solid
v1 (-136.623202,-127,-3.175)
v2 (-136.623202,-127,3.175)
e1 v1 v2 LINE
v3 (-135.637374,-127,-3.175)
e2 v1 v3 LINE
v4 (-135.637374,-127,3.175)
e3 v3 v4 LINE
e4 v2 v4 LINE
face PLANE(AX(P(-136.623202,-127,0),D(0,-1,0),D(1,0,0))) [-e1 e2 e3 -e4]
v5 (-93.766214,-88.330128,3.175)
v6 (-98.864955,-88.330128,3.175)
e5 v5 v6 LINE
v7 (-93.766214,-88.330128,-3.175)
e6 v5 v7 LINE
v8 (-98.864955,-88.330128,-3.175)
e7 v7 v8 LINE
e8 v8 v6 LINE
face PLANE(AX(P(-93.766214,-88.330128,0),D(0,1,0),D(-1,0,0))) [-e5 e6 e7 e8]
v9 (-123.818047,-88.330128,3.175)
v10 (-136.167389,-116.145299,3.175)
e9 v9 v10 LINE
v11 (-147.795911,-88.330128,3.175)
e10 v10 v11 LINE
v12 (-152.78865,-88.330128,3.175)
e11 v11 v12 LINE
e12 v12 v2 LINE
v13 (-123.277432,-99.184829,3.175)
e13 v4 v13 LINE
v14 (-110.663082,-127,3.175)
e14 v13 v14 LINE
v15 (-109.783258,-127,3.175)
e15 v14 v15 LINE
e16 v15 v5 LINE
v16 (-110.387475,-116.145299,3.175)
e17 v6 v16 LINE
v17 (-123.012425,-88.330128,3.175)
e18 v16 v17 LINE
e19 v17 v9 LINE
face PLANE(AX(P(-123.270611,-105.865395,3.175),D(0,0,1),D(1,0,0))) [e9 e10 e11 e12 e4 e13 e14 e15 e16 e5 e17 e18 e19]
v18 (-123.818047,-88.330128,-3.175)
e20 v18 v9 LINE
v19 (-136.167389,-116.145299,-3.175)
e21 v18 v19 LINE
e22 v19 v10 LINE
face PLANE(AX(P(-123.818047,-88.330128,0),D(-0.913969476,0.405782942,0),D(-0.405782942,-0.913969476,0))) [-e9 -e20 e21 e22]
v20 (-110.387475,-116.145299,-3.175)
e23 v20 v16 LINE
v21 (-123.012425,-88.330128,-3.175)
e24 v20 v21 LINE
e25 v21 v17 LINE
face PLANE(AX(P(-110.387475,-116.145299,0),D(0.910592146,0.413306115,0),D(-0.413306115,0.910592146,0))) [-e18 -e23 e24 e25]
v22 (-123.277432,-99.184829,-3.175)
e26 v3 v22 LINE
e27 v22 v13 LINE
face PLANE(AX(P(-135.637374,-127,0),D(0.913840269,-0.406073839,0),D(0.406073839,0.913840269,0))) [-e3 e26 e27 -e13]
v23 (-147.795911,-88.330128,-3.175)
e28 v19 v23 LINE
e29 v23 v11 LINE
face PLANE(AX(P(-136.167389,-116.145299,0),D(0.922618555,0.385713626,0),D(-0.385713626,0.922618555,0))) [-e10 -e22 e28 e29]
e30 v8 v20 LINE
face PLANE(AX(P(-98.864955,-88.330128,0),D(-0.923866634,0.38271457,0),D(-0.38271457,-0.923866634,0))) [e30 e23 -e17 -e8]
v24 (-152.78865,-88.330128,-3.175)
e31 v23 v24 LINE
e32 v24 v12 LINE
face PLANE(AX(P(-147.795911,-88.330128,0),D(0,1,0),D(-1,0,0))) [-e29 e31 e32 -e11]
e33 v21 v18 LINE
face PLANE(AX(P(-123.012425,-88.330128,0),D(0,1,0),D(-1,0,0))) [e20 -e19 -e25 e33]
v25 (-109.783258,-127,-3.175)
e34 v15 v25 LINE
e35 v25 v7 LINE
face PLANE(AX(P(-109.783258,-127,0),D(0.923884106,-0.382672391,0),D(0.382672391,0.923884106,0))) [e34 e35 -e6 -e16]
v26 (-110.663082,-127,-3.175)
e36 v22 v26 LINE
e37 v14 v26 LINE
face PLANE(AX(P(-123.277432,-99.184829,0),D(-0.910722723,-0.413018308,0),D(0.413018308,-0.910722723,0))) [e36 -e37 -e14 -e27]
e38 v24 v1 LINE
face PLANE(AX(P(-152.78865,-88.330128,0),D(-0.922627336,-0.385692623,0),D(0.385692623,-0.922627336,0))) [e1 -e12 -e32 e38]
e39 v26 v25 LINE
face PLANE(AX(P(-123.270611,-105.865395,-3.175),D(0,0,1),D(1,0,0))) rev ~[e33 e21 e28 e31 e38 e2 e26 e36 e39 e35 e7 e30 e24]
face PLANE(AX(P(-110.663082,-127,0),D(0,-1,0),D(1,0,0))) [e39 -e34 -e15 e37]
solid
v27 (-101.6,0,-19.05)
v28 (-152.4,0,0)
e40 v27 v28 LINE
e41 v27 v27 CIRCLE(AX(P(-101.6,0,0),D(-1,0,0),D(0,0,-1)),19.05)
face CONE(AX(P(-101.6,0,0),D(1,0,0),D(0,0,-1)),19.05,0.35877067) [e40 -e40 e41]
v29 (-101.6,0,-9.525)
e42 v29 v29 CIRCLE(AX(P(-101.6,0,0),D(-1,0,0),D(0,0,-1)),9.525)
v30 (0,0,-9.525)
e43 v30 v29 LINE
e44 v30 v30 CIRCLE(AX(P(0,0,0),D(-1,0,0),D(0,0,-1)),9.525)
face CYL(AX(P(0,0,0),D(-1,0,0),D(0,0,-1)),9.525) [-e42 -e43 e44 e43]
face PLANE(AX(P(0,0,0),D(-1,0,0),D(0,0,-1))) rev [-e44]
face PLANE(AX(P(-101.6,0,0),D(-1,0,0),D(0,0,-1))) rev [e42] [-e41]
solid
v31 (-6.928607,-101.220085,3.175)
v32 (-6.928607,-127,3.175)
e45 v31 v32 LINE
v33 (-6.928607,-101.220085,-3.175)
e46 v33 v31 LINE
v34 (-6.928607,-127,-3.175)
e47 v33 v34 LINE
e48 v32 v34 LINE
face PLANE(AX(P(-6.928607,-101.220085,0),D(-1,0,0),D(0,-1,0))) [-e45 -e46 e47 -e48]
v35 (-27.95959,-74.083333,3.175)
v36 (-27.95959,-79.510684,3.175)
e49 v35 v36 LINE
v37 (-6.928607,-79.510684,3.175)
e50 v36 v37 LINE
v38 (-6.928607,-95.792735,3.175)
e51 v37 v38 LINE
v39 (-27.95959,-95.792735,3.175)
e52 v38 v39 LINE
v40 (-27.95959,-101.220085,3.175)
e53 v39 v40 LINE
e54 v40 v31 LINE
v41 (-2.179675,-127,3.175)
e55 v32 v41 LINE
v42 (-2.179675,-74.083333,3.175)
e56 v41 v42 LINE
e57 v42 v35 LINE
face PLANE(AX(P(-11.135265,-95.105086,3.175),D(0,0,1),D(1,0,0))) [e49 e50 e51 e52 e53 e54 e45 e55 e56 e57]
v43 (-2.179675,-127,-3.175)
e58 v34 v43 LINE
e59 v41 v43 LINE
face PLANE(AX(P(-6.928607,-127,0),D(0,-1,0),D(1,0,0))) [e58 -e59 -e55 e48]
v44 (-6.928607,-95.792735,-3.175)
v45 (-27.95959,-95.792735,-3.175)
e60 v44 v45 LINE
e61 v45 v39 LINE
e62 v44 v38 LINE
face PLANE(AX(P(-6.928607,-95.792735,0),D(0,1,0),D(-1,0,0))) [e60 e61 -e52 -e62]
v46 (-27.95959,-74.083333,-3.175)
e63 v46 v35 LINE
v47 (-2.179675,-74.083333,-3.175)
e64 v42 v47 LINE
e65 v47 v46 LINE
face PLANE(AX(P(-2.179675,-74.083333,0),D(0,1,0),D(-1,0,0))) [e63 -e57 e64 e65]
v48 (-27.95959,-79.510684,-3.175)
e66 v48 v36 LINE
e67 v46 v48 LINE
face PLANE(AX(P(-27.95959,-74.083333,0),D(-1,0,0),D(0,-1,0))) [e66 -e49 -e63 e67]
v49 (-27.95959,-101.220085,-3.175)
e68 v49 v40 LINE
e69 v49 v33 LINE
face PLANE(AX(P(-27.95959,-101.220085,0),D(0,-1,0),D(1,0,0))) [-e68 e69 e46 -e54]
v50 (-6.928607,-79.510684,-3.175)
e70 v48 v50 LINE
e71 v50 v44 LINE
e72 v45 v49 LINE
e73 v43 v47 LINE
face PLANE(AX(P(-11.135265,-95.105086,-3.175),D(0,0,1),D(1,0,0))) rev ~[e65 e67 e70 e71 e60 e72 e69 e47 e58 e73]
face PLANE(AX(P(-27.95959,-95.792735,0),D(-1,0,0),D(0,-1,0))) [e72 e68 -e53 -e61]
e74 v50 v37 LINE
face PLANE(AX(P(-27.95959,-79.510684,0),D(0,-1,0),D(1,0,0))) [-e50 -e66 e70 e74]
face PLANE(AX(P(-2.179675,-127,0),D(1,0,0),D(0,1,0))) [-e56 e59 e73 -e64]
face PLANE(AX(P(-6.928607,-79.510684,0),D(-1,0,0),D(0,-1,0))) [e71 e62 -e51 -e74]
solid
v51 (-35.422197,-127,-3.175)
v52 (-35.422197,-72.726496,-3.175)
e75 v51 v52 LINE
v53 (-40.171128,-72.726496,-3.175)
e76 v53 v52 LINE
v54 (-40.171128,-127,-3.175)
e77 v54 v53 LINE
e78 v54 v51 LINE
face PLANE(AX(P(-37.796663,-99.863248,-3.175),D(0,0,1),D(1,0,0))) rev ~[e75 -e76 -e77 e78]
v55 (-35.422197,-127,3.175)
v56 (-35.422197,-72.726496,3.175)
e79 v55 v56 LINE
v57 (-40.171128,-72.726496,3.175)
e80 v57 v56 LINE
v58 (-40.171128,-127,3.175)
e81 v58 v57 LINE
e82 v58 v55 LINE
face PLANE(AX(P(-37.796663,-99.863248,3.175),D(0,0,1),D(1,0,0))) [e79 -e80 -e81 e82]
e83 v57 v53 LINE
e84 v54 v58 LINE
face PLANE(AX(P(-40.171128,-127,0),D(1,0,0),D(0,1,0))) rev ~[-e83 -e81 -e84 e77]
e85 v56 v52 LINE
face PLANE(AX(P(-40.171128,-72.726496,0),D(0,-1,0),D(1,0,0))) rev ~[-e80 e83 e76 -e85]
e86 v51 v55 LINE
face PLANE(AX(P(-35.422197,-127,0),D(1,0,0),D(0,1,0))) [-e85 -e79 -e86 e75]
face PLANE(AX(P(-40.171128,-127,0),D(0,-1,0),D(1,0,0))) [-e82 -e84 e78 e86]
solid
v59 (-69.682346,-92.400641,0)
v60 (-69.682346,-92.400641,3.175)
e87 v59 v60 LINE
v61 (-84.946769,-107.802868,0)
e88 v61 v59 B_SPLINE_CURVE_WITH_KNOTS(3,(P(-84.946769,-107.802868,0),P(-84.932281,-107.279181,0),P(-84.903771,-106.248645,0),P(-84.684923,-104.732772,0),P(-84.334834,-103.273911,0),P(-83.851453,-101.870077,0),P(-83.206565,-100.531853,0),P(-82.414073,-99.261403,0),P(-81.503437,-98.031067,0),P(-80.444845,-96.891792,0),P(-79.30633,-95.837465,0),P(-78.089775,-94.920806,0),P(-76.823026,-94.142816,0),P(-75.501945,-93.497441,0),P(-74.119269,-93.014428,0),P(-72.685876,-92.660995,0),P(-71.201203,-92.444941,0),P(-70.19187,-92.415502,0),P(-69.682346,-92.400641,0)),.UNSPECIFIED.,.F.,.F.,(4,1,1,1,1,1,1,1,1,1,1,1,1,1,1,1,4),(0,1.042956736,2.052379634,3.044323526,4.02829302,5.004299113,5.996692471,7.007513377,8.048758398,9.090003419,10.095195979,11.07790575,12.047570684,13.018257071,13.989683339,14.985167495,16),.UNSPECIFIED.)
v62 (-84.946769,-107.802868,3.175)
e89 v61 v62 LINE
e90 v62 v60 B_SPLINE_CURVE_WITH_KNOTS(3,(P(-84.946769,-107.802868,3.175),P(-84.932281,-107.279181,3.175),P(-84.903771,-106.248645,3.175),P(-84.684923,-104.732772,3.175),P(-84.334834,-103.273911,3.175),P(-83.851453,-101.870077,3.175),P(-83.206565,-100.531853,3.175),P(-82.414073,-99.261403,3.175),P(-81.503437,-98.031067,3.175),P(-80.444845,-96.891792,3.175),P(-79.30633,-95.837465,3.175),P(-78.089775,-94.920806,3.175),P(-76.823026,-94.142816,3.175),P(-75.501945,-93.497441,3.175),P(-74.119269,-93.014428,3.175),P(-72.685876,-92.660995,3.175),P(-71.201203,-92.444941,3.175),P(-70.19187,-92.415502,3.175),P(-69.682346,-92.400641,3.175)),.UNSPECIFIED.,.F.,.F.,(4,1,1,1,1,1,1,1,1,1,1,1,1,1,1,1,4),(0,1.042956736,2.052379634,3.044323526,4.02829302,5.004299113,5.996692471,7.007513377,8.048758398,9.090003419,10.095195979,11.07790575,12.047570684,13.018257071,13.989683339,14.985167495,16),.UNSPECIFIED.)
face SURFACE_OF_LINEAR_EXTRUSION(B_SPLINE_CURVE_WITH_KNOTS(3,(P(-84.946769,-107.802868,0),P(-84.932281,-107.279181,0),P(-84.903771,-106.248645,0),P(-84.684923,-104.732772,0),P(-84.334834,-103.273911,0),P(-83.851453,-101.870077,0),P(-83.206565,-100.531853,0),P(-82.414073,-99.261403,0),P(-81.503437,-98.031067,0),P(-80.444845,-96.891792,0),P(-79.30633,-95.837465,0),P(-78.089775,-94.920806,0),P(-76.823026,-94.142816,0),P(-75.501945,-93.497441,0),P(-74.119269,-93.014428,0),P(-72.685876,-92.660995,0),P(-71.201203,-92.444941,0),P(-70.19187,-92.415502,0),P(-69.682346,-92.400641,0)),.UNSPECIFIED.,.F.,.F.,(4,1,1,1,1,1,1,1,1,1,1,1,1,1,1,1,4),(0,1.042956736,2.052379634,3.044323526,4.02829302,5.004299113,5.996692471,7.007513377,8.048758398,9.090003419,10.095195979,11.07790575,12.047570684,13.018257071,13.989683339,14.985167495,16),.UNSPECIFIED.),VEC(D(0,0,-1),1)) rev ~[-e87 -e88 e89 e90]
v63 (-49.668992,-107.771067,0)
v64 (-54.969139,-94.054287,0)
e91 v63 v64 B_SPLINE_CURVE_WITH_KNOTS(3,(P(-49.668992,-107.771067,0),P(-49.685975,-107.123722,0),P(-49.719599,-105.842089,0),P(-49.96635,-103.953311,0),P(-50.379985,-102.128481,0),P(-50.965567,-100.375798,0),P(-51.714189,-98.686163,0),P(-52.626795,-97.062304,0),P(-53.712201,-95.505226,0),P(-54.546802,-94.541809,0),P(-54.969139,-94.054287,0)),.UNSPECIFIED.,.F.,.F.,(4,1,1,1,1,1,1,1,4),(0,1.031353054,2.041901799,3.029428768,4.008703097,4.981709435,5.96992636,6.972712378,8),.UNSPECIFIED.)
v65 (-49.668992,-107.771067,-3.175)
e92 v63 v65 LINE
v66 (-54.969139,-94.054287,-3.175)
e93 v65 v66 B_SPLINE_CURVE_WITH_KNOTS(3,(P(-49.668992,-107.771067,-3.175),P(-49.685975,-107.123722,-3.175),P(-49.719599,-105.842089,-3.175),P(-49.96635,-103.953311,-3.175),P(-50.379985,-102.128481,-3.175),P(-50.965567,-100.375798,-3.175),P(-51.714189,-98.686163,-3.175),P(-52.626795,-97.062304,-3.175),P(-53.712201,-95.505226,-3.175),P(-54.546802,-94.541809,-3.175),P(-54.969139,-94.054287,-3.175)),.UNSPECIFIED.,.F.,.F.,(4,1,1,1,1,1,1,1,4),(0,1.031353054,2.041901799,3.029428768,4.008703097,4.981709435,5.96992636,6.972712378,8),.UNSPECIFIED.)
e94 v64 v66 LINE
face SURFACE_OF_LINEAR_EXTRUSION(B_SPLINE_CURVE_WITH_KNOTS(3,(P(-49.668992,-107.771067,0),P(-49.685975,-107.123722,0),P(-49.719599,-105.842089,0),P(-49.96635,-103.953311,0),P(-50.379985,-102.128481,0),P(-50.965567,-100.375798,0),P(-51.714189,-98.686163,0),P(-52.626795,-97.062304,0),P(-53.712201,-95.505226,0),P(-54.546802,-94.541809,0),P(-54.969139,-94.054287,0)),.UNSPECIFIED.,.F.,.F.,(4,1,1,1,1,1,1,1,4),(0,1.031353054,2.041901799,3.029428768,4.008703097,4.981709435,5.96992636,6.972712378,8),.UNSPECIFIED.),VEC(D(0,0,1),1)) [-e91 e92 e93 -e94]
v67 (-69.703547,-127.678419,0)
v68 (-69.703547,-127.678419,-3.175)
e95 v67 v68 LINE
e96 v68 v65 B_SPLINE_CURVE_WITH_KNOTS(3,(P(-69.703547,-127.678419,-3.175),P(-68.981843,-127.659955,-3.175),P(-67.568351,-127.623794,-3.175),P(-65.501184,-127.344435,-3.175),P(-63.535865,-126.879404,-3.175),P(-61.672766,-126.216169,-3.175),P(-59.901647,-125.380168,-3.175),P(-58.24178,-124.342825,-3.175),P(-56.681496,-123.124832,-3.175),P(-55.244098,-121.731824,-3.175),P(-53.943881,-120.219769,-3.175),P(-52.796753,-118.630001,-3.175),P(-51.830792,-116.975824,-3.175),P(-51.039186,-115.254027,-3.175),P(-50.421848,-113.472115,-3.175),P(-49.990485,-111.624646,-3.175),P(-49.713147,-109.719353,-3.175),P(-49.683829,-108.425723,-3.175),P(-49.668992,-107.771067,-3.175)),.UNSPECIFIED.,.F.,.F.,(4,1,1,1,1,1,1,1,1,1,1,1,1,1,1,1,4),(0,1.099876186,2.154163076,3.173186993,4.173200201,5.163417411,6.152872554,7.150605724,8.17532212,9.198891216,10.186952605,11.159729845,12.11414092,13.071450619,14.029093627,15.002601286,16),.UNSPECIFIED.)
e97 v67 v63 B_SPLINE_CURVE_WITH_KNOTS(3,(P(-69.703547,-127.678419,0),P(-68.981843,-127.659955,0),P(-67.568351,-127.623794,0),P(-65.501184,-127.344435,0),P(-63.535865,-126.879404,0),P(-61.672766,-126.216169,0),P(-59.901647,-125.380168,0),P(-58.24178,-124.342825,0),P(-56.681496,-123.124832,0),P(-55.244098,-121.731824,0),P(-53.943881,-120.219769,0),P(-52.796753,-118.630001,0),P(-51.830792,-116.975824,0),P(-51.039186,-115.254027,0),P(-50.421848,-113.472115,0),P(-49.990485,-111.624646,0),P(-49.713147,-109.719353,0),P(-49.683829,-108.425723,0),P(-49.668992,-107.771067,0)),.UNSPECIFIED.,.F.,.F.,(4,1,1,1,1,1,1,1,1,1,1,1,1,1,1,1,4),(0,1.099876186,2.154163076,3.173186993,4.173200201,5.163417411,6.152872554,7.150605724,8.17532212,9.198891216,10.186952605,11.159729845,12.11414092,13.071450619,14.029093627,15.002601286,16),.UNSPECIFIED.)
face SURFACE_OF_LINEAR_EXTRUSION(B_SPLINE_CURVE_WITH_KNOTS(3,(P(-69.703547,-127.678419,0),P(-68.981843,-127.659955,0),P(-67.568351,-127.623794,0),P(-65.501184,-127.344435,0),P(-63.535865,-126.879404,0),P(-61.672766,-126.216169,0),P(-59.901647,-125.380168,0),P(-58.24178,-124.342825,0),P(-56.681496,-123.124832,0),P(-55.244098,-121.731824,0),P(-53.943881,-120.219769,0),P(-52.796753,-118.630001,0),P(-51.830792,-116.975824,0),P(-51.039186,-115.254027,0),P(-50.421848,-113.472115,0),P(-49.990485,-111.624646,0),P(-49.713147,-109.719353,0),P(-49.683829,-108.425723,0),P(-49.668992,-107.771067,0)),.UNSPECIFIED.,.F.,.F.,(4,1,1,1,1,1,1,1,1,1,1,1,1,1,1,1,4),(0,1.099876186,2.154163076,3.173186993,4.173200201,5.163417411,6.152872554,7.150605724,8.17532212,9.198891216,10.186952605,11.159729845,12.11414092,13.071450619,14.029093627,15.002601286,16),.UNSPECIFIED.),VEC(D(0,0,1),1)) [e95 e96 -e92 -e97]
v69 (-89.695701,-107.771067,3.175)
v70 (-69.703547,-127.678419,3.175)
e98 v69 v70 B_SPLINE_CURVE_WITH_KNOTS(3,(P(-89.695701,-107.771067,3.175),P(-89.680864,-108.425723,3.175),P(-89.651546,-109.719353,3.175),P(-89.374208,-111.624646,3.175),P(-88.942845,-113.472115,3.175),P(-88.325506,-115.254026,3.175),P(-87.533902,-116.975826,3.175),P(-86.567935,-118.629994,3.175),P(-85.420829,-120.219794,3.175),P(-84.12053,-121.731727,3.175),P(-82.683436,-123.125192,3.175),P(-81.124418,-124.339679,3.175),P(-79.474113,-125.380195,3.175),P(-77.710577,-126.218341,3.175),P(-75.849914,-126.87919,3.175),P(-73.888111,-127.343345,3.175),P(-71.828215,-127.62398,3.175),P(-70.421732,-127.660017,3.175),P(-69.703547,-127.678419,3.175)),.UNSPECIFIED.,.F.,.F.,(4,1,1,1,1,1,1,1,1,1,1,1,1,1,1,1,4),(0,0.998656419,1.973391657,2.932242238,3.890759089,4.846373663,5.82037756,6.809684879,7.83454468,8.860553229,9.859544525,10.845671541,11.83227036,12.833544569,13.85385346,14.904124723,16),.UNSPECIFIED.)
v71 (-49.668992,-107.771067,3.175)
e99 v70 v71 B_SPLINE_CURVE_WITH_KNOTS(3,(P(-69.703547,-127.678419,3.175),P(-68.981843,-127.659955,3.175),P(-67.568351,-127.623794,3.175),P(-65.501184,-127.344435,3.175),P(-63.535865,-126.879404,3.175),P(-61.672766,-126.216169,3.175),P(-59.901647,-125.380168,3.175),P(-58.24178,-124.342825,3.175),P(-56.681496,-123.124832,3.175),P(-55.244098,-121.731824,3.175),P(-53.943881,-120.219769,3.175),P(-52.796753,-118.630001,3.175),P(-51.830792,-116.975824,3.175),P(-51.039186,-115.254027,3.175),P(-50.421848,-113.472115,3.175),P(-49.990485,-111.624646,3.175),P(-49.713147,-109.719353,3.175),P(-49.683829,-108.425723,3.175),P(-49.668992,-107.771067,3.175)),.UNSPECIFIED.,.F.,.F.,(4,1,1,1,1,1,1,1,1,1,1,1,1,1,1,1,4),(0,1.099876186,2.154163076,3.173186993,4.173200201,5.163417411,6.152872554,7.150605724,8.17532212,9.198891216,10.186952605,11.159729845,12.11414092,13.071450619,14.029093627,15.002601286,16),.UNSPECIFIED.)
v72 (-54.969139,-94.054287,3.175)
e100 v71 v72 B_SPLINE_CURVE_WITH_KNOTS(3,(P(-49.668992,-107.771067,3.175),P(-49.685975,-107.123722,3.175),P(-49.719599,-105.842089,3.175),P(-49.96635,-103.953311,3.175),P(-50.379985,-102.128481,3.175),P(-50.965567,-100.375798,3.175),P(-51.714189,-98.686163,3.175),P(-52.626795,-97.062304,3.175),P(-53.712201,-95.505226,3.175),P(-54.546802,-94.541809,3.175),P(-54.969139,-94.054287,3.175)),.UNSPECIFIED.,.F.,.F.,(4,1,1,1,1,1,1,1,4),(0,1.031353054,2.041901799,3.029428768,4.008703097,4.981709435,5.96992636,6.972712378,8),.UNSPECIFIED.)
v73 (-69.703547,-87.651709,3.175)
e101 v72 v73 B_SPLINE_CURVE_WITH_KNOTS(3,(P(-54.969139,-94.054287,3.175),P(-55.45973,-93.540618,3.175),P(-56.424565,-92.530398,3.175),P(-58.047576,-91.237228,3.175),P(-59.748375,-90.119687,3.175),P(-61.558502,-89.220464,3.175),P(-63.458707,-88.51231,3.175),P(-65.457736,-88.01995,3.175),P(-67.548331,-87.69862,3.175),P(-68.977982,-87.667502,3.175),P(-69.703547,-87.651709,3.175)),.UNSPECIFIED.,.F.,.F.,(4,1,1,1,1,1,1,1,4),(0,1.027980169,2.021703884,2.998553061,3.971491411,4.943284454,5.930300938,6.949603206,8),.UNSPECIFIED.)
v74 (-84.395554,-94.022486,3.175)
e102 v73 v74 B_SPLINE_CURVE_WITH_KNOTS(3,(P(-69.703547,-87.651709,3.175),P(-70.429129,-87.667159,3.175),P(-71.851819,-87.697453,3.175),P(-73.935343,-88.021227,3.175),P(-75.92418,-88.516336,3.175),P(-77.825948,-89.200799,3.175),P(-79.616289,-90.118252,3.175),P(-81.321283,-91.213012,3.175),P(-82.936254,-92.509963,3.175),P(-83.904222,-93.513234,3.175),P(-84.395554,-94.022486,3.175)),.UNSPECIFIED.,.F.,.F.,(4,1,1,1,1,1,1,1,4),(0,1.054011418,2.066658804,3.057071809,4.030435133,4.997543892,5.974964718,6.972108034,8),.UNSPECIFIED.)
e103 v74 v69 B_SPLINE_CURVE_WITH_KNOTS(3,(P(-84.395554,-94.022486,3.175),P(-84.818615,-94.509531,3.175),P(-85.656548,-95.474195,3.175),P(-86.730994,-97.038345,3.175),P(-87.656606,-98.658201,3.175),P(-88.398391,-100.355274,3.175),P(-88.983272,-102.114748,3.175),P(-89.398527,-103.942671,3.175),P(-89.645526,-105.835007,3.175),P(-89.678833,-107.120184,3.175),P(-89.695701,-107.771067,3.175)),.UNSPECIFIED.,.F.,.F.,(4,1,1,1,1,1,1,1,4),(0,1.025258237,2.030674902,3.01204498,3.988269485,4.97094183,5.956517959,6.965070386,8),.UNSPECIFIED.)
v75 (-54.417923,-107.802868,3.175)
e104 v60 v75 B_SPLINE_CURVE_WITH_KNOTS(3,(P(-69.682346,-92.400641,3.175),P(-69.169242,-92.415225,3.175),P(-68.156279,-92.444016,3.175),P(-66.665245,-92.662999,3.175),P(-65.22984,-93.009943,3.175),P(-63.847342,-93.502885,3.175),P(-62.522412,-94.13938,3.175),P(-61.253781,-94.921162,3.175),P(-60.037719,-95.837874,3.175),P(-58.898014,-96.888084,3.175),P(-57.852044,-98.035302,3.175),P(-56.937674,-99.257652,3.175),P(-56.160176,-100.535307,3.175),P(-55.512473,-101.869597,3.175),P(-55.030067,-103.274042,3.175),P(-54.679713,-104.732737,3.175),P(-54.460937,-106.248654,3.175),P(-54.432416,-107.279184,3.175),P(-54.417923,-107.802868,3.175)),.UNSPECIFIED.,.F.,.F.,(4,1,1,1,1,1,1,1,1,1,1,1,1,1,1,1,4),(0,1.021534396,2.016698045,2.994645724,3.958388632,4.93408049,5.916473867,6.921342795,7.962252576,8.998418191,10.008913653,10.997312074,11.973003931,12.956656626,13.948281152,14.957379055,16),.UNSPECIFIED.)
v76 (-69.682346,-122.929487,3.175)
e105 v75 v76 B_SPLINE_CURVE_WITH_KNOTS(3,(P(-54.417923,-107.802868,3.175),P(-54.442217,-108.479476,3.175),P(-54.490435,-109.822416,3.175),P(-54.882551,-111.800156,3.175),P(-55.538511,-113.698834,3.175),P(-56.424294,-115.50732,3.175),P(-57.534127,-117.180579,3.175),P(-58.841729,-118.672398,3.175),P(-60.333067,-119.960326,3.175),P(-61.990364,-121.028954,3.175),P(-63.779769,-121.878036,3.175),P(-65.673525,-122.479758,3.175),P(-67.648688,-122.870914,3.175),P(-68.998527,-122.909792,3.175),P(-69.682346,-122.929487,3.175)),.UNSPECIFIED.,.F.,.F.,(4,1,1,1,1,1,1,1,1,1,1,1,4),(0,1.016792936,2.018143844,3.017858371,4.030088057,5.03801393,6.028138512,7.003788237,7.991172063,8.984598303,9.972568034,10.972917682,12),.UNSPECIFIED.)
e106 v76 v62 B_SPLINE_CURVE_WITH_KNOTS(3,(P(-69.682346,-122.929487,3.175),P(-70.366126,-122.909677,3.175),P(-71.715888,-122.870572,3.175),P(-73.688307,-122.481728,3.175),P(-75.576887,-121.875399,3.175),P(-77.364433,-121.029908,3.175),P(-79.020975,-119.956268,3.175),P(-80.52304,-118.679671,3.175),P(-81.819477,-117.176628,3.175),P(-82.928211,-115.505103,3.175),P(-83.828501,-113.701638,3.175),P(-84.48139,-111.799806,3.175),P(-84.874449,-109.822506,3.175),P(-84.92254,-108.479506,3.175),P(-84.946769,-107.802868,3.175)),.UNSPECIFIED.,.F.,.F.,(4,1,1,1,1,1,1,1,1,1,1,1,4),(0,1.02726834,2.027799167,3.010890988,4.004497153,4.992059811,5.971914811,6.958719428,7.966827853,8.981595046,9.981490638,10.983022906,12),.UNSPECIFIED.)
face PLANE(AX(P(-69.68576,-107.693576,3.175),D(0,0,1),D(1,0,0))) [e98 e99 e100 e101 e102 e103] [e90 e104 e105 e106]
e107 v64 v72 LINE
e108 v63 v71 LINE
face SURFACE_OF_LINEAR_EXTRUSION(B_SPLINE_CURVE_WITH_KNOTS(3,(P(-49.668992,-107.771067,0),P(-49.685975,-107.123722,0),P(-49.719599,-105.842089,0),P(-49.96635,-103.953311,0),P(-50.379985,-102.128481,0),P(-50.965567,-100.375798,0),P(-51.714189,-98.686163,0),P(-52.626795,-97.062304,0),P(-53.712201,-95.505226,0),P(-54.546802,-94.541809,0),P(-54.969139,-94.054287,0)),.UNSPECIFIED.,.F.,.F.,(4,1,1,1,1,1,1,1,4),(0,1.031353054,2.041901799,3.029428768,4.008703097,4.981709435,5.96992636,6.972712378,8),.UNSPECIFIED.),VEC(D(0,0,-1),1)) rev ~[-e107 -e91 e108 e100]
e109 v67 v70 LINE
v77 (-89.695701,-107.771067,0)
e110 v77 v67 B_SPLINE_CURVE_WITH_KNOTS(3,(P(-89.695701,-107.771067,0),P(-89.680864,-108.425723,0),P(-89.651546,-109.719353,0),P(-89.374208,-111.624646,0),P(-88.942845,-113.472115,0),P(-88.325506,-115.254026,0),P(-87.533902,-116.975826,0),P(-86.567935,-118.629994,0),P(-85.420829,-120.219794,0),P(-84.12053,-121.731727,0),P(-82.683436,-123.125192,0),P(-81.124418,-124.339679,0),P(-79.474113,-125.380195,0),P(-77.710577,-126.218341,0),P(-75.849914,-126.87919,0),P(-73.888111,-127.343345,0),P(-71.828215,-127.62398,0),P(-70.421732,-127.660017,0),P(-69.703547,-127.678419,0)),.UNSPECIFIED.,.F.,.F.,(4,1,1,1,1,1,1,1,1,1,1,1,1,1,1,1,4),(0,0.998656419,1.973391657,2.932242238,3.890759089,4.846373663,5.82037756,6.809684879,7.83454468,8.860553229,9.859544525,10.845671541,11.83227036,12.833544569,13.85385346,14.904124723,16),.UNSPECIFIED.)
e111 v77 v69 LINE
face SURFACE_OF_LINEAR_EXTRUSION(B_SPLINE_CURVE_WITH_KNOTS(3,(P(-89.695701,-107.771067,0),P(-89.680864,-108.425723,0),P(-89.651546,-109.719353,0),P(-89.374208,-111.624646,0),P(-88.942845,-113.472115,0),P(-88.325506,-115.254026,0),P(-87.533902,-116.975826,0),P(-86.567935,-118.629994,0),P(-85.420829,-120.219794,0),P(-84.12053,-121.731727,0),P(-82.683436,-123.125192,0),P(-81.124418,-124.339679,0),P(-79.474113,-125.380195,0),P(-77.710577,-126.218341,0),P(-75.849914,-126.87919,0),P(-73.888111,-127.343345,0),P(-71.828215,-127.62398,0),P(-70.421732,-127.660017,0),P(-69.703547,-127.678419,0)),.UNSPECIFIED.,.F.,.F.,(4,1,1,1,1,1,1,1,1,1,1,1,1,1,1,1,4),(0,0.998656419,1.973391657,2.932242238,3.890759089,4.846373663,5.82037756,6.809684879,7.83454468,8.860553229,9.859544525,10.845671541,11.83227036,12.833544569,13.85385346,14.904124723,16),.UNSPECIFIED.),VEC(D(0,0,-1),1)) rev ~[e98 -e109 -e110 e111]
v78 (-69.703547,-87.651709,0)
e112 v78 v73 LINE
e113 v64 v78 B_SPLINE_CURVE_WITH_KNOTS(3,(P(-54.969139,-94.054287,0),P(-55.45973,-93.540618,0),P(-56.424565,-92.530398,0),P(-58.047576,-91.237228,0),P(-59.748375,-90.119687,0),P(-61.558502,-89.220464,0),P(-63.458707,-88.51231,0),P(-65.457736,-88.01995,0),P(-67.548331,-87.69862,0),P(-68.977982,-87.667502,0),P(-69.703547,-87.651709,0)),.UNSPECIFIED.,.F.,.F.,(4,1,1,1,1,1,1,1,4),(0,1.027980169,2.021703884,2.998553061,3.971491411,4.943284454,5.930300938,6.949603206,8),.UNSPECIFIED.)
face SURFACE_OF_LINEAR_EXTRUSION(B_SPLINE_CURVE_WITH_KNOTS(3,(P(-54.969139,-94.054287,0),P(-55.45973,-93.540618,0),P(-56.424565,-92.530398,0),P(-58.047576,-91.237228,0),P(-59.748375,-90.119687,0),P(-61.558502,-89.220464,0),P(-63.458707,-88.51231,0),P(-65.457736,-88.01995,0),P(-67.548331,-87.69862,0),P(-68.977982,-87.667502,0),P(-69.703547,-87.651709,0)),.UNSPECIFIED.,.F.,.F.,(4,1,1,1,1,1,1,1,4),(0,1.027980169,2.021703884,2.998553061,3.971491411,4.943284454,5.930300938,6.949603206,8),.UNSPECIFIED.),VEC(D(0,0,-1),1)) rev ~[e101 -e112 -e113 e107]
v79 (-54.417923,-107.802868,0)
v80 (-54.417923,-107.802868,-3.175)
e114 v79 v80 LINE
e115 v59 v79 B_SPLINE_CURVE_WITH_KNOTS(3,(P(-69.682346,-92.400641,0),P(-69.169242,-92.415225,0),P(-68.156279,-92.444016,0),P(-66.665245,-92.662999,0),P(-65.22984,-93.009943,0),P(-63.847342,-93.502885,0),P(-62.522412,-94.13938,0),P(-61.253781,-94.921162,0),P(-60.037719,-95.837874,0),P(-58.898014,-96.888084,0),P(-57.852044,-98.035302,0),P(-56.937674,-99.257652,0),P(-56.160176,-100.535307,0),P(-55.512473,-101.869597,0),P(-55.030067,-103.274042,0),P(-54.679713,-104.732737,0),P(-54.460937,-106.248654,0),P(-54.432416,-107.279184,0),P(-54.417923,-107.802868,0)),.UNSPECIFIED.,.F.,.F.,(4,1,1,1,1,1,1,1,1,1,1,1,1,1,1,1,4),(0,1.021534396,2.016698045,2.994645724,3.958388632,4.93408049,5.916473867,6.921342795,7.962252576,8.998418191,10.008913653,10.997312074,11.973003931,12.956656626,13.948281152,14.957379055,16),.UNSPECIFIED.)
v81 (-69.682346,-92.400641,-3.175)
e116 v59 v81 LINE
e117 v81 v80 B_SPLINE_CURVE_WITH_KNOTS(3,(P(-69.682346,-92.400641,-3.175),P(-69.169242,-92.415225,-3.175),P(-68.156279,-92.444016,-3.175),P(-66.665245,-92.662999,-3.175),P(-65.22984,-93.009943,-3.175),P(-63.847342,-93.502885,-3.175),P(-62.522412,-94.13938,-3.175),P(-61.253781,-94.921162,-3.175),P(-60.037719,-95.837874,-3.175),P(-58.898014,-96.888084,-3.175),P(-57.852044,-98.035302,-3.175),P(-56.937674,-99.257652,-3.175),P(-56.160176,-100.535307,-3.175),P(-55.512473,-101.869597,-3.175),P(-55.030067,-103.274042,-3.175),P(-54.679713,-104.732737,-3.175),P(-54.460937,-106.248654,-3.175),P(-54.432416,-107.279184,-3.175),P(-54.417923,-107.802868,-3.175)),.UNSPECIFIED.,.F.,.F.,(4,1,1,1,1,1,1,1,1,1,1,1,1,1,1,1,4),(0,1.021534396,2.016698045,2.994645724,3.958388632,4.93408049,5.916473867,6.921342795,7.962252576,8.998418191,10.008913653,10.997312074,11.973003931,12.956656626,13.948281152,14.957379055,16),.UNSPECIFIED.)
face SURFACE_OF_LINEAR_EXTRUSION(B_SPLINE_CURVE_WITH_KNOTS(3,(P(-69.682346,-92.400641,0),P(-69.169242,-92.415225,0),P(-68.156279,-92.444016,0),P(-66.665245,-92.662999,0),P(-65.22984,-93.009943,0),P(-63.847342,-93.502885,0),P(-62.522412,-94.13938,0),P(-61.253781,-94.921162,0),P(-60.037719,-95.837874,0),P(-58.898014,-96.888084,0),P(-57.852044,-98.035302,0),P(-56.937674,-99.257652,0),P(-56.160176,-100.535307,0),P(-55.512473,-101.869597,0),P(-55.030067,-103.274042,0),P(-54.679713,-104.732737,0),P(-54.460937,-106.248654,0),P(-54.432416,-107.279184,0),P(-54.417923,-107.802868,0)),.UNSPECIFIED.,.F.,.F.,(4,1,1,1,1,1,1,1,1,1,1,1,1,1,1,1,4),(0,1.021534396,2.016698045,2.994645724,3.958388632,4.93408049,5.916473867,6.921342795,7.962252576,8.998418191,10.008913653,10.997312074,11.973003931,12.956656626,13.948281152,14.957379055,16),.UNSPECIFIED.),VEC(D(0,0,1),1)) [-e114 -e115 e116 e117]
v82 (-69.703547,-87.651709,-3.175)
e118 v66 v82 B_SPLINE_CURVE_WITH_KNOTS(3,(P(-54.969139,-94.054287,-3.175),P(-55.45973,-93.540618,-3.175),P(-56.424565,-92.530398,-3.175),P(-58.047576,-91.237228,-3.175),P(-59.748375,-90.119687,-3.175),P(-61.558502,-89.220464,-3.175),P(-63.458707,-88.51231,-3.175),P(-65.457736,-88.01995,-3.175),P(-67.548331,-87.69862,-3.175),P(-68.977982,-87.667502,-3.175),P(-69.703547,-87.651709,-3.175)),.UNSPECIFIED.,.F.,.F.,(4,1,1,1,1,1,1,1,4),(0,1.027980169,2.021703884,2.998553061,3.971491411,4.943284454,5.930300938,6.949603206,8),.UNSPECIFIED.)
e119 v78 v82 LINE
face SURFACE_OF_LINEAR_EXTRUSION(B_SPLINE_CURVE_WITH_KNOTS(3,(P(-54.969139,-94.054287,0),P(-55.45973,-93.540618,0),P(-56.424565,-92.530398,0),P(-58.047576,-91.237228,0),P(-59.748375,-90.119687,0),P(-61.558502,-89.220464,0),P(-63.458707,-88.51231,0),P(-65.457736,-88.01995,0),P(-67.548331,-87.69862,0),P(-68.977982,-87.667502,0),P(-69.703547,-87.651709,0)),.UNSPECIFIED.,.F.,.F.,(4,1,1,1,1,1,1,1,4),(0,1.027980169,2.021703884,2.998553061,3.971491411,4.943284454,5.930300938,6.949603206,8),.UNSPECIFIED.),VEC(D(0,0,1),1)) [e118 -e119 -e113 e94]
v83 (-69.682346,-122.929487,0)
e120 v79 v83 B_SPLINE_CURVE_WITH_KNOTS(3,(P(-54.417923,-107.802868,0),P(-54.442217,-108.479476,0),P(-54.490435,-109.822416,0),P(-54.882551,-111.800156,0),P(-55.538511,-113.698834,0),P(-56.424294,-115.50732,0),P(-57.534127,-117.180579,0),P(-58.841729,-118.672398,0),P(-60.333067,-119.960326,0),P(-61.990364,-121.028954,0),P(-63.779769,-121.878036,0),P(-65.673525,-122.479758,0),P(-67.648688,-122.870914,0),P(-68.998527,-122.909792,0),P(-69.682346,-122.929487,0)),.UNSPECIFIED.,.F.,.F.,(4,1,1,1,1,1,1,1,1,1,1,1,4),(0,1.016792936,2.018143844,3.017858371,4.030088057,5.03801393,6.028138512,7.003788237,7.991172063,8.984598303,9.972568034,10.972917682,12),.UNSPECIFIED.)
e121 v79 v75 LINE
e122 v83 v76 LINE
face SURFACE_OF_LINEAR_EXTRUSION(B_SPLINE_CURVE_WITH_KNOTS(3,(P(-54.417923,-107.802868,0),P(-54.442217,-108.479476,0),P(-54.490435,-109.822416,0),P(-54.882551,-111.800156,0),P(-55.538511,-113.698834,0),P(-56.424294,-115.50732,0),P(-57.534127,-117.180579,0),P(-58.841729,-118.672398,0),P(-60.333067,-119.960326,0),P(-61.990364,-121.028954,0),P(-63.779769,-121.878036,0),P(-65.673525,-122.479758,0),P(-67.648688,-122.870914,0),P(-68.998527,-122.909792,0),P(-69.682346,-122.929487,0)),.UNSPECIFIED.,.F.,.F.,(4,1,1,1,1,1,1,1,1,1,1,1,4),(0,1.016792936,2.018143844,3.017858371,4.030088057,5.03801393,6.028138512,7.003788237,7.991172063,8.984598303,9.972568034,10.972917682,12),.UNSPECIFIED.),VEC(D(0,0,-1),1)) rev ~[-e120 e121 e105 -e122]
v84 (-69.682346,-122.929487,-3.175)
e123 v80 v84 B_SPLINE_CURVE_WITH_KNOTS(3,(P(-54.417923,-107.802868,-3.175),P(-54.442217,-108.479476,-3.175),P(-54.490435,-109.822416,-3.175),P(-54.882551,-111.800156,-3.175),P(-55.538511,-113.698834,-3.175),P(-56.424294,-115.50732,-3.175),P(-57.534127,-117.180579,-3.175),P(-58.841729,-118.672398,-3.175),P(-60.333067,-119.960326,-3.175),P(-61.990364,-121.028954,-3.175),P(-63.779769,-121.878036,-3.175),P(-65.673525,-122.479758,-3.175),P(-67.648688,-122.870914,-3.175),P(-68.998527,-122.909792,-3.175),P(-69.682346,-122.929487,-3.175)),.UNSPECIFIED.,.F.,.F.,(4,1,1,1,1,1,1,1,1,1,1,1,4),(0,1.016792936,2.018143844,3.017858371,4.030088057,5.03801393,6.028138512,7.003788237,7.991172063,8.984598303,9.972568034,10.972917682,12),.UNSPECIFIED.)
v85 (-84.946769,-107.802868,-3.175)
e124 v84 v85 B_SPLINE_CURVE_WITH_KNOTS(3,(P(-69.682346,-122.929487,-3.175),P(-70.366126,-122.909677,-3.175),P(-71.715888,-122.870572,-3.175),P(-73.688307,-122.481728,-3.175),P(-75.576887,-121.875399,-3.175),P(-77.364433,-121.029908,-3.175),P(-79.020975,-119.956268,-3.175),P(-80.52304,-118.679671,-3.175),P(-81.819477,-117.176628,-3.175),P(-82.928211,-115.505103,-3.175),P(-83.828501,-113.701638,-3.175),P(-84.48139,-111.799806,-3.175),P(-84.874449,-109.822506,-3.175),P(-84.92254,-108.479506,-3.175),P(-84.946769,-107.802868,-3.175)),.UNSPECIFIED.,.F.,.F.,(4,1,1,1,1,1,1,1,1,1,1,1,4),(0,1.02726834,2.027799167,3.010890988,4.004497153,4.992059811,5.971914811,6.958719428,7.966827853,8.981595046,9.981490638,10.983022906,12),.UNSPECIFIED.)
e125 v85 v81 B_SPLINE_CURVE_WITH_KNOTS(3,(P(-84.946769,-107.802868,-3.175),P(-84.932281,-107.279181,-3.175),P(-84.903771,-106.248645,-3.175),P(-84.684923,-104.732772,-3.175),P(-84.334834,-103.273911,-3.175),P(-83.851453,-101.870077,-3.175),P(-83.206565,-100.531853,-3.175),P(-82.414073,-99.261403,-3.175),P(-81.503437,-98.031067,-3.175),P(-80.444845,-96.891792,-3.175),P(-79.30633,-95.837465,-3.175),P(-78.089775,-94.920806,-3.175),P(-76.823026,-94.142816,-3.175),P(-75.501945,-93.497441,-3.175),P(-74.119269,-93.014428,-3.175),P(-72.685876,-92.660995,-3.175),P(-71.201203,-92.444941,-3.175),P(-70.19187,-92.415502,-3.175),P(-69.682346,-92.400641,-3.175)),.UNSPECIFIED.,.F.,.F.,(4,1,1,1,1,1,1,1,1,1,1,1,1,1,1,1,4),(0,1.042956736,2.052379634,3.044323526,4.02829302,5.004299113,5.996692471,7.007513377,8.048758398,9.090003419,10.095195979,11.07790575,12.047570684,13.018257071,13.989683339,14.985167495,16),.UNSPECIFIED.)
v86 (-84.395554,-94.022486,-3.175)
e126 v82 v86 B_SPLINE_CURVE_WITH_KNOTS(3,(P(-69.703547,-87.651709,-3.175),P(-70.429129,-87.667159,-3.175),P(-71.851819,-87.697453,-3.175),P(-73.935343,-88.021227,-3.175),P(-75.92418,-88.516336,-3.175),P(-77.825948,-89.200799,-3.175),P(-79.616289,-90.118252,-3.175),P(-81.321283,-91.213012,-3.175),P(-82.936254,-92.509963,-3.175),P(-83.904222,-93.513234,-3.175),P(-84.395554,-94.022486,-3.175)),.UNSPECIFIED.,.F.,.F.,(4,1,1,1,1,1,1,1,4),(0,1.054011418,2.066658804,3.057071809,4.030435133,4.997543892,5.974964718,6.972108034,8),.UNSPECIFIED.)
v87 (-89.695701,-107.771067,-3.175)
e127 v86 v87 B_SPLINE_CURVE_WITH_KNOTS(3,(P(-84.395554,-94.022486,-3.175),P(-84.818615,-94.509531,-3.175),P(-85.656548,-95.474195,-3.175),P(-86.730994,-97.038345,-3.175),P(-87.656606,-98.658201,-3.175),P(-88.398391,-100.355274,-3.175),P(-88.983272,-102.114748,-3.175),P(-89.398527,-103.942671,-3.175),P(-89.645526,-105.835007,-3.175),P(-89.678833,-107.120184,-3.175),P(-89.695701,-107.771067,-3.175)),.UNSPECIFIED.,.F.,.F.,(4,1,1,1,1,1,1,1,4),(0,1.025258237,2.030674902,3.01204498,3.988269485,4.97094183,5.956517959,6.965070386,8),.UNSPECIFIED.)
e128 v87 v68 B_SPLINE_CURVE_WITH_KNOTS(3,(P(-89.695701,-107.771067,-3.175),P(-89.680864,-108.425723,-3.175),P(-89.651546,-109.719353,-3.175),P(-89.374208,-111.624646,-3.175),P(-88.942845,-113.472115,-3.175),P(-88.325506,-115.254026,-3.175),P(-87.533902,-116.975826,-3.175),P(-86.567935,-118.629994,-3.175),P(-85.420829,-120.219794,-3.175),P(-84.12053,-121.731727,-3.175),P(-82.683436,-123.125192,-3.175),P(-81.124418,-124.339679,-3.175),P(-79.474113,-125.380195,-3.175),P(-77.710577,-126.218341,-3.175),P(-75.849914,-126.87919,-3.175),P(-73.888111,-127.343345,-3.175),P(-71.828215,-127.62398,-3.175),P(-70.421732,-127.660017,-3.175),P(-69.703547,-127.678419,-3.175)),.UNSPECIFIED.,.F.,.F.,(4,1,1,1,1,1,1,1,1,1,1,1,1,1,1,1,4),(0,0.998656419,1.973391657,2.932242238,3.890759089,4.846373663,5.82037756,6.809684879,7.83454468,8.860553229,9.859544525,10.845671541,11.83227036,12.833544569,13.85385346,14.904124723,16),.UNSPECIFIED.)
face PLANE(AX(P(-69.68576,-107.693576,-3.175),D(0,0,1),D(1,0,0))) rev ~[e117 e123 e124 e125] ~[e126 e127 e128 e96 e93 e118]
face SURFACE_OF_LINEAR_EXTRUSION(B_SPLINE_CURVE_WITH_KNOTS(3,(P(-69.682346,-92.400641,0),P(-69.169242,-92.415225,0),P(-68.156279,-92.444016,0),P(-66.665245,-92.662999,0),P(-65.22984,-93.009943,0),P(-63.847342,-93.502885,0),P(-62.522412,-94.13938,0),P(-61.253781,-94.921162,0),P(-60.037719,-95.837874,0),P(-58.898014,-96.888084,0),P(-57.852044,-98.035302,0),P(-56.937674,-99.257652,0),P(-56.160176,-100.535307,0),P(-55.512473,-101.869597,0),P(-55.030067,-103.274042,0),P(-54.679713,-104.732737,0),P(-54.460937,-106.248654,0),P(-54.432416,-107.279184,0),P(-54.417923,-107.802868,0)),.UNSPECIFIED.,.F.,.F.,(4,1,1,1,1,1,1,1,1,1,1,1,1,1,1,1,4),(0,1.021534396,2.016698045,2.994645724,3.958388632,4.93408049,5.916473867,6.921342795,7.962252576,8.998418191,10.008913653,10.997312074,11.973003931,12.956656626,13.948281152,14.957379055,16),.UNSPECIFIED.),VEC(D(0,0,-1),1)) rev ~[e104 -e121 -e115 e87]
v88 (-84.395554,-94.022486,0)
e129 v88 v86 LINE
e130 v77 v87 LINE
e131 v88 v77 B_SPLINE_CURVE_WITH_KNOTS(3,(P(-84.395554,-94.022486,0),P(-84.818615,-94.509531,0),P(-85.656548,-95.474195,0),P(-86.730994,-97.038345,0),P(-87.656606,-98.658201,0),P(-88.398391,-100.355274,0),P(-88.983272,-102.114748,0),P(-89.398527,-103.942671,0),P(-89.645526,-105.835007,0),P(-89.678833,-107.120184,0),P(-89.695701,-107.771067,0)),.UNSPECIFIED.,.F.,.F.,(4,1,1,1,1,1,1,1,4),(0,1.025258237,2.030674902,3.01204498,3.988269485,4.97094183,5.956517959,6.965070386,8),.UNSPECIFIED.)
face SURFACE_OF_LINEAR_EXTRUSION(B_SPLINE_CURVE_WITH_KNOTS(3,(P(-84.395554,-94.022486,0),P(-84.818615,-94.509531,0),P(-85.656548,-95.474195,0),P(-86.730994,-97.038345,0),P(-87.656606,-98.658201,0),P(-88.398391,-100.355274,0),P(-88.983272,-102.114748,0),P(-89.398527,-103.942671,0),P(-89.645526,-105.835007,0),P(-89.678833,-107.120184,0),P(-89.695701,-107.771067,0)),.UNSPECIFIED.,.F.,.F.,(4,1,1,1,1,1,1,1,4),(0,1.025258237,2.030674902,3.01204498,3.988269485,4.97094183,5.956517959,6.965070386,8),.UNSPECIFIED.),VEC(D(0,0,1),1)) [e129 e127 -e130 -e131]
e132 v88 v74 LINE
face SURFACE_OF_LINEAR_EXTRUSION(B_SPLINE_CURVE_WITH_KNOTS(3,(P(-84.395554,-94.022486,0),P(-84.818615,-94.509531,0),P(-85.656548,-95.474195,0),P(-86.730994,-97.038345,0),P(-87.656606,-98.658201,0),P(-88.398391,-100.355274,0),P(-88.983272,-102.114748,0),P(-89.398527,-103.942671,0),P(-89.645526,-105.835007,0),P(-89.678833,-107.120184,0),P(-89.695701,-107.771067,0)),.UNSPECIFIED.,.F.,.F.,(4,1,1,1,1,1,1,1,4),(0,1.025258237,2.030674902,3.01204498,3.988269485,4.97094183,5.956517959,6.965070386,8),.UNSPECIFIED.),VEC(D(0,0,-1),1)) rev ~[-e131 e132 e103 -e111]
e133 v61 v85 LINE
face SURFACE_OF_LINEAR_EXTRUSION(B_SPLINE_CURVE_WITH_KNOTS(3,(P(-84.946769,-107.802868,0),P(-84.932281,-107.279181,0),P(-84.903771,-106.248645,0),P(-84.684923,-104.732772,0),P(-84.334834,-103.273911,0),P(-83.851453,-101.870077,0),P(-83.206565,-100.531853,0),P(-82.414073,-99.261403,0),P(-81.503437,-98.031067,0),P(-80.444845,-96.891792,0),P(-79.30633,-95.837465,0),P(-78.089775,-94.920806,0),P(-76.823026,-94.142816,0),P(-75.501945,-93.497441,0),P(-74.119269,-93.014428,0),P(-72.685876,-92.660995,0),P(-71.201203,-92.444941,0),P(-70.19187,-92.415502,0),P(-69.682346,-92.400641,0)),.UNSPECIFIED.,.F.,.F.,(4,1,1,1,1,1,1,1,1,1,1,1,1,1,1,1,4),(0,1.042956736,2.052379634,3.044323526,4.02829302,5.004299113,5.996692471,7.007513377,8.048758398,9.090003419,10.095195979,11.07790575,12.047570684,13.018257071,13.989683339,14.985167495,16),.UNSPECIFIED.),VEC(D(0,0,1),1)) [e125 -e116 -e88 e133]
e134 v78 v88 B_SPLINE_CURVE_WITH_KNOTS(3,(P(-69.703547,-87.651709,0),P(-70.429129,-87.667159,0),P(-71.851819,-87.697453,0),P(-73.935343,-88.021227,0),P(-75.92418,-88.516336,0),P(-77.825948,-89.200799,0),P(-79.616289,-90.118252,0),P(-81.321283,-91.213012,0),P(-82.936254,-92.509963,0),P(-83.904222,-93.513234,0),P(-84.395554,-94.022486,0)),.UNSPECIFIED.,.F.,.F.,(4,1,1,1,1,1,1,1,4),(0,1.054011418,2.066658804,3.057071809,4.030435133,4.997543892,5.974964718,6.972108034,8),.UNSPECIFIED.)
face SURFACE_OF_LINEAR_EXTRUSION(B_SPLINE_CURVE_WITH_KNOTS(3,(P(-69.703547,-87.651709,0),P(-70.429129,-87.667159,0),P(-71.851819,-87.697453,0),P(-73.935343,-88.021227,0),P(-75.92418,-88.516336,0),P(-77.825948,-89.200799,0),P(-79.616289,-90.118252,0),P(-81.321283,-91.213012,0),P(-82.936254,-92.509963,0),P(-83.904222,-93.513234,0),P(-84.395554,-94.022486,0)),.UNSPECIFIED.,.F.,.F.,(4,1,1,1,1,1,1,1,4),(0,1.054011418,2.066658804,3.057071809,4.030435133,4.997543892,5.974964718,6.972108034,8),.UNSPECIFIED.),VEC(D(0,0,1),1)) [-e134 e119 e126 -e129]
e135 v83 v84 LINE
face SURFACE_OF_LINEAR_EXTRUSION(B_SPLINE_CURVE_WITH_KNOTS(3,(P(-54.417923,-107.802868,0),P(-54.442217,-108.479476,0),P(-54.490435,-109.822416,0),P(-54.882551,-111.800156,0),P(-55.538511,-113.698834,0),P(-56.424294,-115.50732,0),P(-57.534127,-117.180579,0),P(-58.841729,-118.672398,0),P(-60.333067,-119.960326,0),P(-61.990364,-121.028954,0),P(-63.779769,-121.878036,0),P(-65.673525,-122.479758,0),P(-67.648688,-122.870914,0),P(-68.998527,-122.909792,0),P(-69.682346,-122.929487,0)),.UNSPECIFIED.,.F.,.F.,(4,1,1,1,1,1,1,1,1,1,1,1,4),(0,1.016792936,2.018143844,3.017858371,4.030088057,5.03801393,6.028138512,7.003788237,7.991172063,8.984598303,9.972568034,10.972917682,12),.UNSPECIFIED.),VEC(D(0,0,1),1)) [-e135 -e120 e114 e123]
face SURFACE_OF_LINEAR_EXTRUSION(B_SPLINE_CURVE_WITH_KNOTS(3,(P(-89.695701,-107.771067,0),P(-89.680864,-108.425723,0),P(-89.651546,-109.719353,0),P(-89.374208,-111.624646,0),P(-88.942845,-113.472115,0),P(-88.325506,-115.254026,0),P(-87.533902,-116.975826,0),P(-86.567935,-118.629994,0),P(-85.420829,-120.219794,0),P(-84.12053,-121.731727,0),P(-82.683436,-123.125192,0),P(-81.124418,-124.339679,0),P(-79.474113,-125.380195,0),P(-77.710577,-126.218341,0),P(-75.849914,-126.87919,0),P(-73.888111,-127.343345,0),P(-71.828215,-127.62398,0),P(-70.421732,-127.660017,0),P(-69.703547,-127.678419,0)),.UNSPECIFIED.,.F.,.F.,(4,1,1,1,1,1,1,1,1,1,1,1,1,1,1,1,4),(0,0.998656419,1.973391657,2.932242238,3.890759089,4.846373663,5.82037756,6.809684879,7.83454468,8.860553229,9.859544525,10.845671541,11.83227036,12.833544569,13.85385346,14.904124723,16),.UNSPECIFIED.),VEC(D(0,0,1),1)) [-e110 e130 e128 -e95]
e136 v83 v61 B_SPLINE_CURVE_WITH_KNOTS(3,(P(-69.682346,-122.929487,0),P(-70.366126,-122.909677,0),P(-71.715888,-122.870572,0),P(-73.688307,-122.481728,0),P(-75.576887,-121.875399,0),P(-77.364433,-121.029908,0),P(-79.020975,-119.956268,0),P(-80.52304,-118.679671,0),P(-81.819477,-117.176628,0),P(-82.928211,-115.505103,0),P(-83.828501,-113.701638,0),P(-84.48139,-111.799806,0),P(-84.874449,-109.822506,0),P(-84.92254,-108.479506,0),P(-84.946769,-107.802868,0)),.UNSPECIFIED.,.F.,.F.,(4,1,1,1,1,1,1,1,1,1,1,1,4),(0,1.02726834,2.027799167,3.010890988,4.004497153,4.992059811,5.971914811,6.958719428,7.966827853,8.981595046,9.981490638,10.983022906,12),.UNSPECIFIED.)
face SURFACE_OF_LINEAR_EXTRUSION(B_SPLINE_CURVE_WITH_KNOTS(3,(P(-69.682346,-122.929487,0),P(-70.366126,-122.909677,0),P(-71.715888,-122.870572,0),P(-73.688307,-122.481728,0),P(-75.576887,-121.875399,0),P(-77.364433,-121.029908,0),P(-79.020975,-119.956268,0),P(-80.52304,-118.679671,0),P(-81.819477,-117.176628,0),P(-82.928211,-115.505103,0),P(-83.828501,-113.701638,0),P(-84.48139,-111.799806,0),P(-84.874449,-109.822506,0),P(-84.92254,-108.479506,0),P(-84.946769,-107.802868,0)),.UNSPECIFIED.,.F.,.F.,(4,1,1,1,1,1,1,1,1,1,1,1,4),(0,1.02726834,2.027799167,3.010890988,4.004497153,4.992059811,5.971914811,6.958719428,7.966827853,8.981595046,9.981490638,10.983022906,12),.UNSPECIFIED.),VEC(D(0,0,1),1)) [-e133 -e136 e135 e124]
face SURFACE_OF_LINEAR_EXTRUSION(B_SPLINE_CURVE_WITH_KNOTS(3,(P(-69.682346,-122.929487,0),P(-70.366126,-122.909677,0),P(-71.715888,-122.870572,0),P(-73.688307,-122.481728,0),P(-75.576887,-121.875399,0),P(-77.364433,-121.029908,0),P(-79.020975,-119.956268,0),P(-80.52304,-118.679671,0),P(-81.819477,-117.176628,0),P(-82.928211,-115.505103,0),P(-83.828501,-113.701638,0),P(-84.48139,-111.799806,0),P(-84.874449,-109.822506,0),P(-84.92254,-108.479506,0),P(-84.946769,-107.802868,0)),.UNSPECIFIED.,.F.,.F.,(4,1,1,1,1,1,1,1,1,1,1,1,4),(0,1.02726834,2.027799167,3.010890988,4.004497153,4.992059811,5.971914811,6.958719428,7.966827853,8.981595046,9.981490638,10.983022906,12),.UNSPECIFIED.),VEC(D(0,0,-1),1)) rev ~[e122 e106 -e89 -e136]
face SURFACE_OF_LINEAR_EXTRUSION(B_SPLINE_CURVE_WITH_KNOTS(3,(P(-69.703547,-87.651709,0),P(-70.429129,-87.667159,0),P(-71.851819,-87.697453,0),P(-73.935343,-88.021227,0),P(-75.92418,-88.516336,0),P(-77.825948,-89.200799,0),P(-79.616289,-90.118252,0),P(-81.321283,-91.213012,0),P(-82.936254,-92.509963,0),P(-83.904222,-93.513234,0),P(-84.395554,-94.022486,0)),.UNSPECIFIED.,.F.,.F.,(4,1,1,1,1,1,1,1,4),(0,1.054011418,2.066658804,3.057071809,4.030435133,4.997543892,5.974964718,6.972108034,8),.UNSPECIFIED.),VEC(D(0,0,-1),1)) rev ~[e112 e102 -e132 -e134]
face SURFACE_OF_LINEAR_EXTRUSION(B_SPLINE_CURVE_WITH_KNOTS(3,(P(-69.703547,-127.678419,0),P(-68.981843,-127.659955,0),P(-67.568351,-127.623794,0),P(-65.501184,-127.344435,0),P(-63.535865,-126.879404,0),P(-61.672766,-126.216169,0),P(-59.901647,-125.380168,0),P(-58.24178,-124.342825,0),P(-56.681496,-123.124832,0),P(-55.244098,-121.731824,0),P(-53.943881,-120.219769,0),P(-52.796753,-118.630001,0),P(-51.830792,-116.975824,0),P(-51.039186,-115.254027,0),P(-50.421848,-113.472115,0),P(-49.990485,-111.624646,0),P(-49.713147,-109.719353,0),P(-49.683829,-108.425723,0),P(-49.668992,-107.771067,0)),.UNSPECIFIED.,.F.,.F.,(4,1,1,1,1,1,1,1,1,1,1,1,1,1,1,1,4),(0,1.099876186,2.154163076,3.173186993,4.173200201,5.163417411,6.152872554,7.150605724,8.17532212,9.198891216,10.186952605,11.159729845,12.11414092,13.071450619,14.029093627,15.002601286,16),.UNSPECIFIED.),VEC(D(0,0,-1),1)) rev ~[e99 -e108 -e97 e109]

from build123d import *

# Parameters (mm, degrees)
BOSS_EXTRUDE1_DEPTH   = 3.175
BOSS_EXTRUDE1_2_DEPTH = 3.175
SKETCH2_W             = 4.748931624
SKETCH2_H             = 54.273504274
BOSS_EXTRUDE1_3_DEPTH = 3.175
BOSS_EXTRUDE1_4_DEPTH = 3.175


with BuildPart() as part:
    # Sketch1 → Revolve1 (revolve)
    with BuildSketch(Plane(origin=(0, 0, 0), x_dir=(1, 0, 0), z_dir=(0, 1, 0))):
        Polygon((0, 0), (0, 9.525), (-101.6, 9.525), (-101.6, 19.05), (-152.4, 0), align=None)
    revolve(axis=Axis((0, 0, 0), (-1, 0, 0)))


with BuildPart() as body_2:
    # Sketch2 → Boss-Extrude1 (new, symmetric)
    with BuildSketch(Plane.XY):
        Polygon((-93.766213925, -88.330128205), (-98.864955245, -88.330128205), (-110.387474609, -116.145299145), (-123.012424529, -88.330128205), (-123.818046858, -88.330128205), (-136.167389139, -116.145299145), (-147.795911441, -88.330128205), (-152.788649822, -88.330128205), (-136.623201772, -127), (-135.637374449, -127), (-123.277431874, -99.18482906), (-110.663082248, -127), (-109.783257862, -127), align=None)
    extrude(amount=BOSS_EXTRUDE1_DEPTH, both=True)


with BuildPart() as body_3:
    # Sketch2 → Boss-Extrude1 2 (new, symmetric)
    with BuildSketch(Plane.XY):
        with BuildLine():
            add(Edge.make_bspline(
                [(-69.703546991, -87.651709402), (-70.429129331, -87.667159422), (-71.851818975, -87.697453137), (-73.935342964, -88.021227023), (-75.924180138, -88.516335984), (-77.825947567, -89.200798887), (-79.616289177, -90.118252187), (-81.321282987, -91.213011708), (-82.936254431, -92.509962825), (-83.904221659, -93.51323362), (-84.395554203, -94.022485978)],
                knots=[0, 0, 0, 0, 1.054011418, 2.066658804, 3.057071809, 4.030435133, 4.997543892, 5.974964718, 6.972108034, 8, 8, 8, 8], degree=3))
            add(Edge.make_bspline(
                [(-84.395554203, -94.022485978), (-84.818614699, -94.509530763), (-85.656548305, -95.474194675), (-86.730994291, -97.038345014), (-87.656605975, -98.658201296), (-88.398391218, -100.355273973), (-88.983271933, -102.114748168), (-89.398527103, -103.942671432), (-89.645526, -105.835006919), (-89.678832762, -107.120183995), (-89.695701105, -107.771067041)],
                knots=[0, 0, 0, 0, 1.025258237, 2.030674902, 3.01204498, 3.988269485, 4.97094183, 5.956517959, 6.965070386, 8, 8, 8, 8], degree=3))
            add(Edge.make_bspline(
                [(-89.695701105, -107.771067041), (-89.680864219, -108.425722675), (-89.651545841, -109.719352738), (-89.374207831, -111.62464553), (-88.942844985, -113.472114873), (-88.325506479, -115.254026076), (-87.533901732, -116.975825967), (-86.567935385, -118.629994153), (-85.420828792, -120.219794263), (-84.12053027, -121.731726817), (-82.683436428, -123.125192208), (-81.124418471, -124.33967914), (-79.474113437, -125.380195044), (-77.710577025, -126.218340852), (-75.849913831, -126.879189892), (-73.888110539, -127.343344903), (-71.828214833, -127.623979883), (-70.421731844, -127.660017241), (-69.703546991, -127.678418803)],
                knots=[0, 0, 0, 0, 0.998656419, 1.973391657, 2.932242238, 3.890759089, 4.846373663, 5.82037756, 6.809684879, 7.83454468, 8.860553229, 9.859544525, 10.845671541, 11.83227036, 12.833544569, 13.85385346, 14.904124723, 16, 16, 16, 16], degree=3))
            add(Edge.make_bspline(
                [(-69.703546991, -127.678418803), (-68.981843494, -127.65995548), (-67.568350734, -127.623794127), (-65.501184102, -127.34443521), (-63.535864864, -126.879403807), (-61.672765815, -126.216169095), (-59.901647295, -125.380168255), (-58.24178002, -124.342824853), (-56.681495583, -123.12483203), (-55.244097723, -121.73182441), (-53.943880714, -120.219769118), (-52.796753088, -118.630000679), (-51.830792205, -116.975824266), (-51.039186027, -115.25402653), (-50.421847903, -113.472114752), (-49.990484954, -111.624645563), (-49.713146972, -109.719352729), (-49.68382859, -108.425722672), (-49.668991703, -107.771067041)],
                knots=[0, 0, 0, 0, 1.099876186, 2.154163076, 3.173186993, 4.173200201, 5.163417411, 6.152872554, 7.150605724, 8.17532212, 9.198891216, 10.186952605, 11.159729845, 12.11414092, 13.071450619, 14.029093627, 15.002601286, 16, 16, 16, 16], degree=3))
            add(Edge.make_bspline(
                [(-49.668991703, -107.771067041), (-49.685975086, -107.123721644), (-49.719599265, -105.842089013), (-49.966349818, -103.953310834), (-50.379985137, -102.128481261), (-50.965566964, -100.375798469), (-51.714189493, -98.68616271), (-52.62679468, -97.062303956), (-53.712200672, -95.505226496), (-54.546801606, -94.541809334), (-54.969138605, -94.054286859)],
                knots=[0, 0, 0, 0, 1.031353054, 2.041901799, 3.029428768, 4.008703097, 4.981709435, 5.96992636, 6.972712378, 8, 8, 8, 8], degree=3))
            add(Edge.make_bspline(
                [(-54.969138605, -94.054286859), (-55.459730397, -93.540618135), (-56.424565482, -92.530398204), (-58.047576008, -91.237227899), (-59.748375446, -90.119687259), (-61.558502306, -89.220463525), (-63.45870742, -88.512309745), (-65.457736444, -88.019950171), (-67.548330547, -87.698619685), (-68.977981961, -87.667501997), (-69.703546991, -87.651709402)],
                knots=[0, 0, 0, 0, 1.027980169, 2.021703884, 2.998553061, 3.971491411, 4.943284454, 5.930300938, 6.949603206, 8, 8, 8, 8], degree=3))
        make_face()
        with BuildLine():
            add(Edge.make_bspline(
                [(-69.682346404, -92.400641026), (-69.169242042, -92.415224733), (-68.156279025, -92.444015672), (-66.665244828, -92.662998517), (-65.22984012, -93.009942924), (-63.847341643, -93.502885203), (-62.522411536, -94.13938046), (-61.253781286, -94.92116162), (-60.037719396, -95.837874177), (-58.898014391, -96.888083617), (-57.852043719, -98.035301748), (-56.937674311, -99.257651936), (-56.160175679, -100.53530741), (-55.512473276, -101.869596792), (-55.03006698, -103.274041622), (-54.679712949, -104.732736879), (-54.460936695, -106.248654486), (-54.432416447, -107.279184167), (-54.417923327, -107.802867922)],
                knots=[0, 0, 0, 0, 1.021534396, 2.016698045, 2.994645724, 3.958388632, 4.93408049, 5.916473867, 6.921342795, 7.962252576, 8.998418191, 10.008913653, 10.997312074, 11.973003931, 12.956656626, 13.948281152, 14.957379055, 16, 16, 16, 16], degree=3))
            add(Edge.make_bspline(
                [(-54.417923327, -107.802867922), (-54.44221697, -108.479475952), (-54.490435309, -109.822416368), (-54.882551383, -111.800155961), (-55.538510615, -113.698833963), (-56.424294487, -115.5073198), (-57.534126602, -117.180579241), (-58.841728682, -118.672398112), (-60.333067009, -119.960326452), (-61.990364095, -121.028953521), (-63.779768663, -121.878035542), (-65.673524947, -122.479758151), (-67.648687821, -122.8709135), (-68.998527447, -122.909791744), (-69.682346404, -122.929487179)],
                knots=[0, 0, 0, 0, 1.016792936, 2.018143844, 3.017858371, 4.030088057, 5.03801393, 6.028138512, 7.003788237, 7.991172063, 8.984598303, 9.972568034, 10.972917682, 12, 12, 12, 12], degree=3))
            add(Edge.make_bspline(
                [(-69.682346404, -122.929487179), (-70.366126029, -122.90967699), (-71.715888016, -122.870572225), (-73.688306523, -122.481728165), (-75.576886812, -121.875399009), (-77.36443279, -121.029908455), (-79.020975485, -119.956268375), (-80.523039581, -118.679670769), (-81.819476916, -117.176628017), (-82.92821118, -115.505103474), (-83.828501219, -113.701637674), (-84.481390103, -111.799805533), (-84.874448842, -109.822505614), (-84.922539943, -108.479505852), (-84.946769481, -107.802867922)],
                knots=[0, 0, 0, 0, 1.02726834, 2.027799167, 3.010890988, 4.004497153, 4.992059811, 5.971914811, 6.958719428, 7.966827853, 8.981595046, 9.981490638, 10.983022906, 12, 12, 12, 12], degree=3))
            add(Edge.make_bspline(
                [(-84.946769481, -107.802867922), (-84.93228135, -107.279181038), (-84.903770922, -106.248645197), (-84.684923246, -104.732772387), (-84.33483354, -103.273911343), (-83.851453136, -101.870077484), (-83.206565069, -100.531852716), (-82.414073079, -99.261403271), (-81.503437337, -98.031067396), (-80.444845152, -96.891792113), (-79.306329796, -95.837464774), (-78.089775052, -94.920806149), (-76.823025972, -94.142816312), (-75.501945019, -93.497441008), (-74.119269294, -93.014427648), (-72.685875794, -92.660995244), (-71.20120331, -92.44494108), (-70.191870157, -92.415502156), (-69.682346404, -92.400641026)],
                knots=[0, 0, 0, 0, 1.042956736, 2.052379634, 3.044323526, 4.02829302, 5.004299113, 5.996692471, 7.007513377, 8.048758398, 9.090003419, 10.095195979, 11.07790575, 12.047570684, 13.018257071, 13.989683339, 14.985167495, 16, 16, 16, 16], degree=3))
        make_face(mode=Mode.SUBTRACT)
    extrude(amount=BOSS_EXTRUDE1_2_DEPTH, both=True)


with BuildPart() as body_4:
    # Sketch2 → Boss-Extrude1 3 (new, symmetric)
    with BuildSketch(Plane.XY):
        with Locations((-37.796662643, -99.863247863)):
            Rectangle(SKETCH2_W, SKETCH2_H)
    extrude(amount=BOSS_EXTRUDE1_3_DEPTH, both=True)


with BuildPart() as body_5:
    # Sketch2 → Boss-Extrude1 4 (new, symmetric)
    with BuildSketch(Plane.XY):
        Polygon((-2.179675464, -74.083333333), (-27.959589993, -74.083333333), (-27.959589993, -79.510683761), (-6.928607087, -79.510683761), (-6.928607087, -95.792735043), (-27.959589993, -95.792735043), (-27.959589993, -101.22008547), (-6.928607087, -101.22008547), (-6.928607087, -127), (-2.179675464, -127), align=None)
    extrude(amount=BOSS_EXTRUDE1_4_DEPTH, both=True)


solid = Compound([part.part, body_2.part, body_3.part, body_4.part, body_5.part])
